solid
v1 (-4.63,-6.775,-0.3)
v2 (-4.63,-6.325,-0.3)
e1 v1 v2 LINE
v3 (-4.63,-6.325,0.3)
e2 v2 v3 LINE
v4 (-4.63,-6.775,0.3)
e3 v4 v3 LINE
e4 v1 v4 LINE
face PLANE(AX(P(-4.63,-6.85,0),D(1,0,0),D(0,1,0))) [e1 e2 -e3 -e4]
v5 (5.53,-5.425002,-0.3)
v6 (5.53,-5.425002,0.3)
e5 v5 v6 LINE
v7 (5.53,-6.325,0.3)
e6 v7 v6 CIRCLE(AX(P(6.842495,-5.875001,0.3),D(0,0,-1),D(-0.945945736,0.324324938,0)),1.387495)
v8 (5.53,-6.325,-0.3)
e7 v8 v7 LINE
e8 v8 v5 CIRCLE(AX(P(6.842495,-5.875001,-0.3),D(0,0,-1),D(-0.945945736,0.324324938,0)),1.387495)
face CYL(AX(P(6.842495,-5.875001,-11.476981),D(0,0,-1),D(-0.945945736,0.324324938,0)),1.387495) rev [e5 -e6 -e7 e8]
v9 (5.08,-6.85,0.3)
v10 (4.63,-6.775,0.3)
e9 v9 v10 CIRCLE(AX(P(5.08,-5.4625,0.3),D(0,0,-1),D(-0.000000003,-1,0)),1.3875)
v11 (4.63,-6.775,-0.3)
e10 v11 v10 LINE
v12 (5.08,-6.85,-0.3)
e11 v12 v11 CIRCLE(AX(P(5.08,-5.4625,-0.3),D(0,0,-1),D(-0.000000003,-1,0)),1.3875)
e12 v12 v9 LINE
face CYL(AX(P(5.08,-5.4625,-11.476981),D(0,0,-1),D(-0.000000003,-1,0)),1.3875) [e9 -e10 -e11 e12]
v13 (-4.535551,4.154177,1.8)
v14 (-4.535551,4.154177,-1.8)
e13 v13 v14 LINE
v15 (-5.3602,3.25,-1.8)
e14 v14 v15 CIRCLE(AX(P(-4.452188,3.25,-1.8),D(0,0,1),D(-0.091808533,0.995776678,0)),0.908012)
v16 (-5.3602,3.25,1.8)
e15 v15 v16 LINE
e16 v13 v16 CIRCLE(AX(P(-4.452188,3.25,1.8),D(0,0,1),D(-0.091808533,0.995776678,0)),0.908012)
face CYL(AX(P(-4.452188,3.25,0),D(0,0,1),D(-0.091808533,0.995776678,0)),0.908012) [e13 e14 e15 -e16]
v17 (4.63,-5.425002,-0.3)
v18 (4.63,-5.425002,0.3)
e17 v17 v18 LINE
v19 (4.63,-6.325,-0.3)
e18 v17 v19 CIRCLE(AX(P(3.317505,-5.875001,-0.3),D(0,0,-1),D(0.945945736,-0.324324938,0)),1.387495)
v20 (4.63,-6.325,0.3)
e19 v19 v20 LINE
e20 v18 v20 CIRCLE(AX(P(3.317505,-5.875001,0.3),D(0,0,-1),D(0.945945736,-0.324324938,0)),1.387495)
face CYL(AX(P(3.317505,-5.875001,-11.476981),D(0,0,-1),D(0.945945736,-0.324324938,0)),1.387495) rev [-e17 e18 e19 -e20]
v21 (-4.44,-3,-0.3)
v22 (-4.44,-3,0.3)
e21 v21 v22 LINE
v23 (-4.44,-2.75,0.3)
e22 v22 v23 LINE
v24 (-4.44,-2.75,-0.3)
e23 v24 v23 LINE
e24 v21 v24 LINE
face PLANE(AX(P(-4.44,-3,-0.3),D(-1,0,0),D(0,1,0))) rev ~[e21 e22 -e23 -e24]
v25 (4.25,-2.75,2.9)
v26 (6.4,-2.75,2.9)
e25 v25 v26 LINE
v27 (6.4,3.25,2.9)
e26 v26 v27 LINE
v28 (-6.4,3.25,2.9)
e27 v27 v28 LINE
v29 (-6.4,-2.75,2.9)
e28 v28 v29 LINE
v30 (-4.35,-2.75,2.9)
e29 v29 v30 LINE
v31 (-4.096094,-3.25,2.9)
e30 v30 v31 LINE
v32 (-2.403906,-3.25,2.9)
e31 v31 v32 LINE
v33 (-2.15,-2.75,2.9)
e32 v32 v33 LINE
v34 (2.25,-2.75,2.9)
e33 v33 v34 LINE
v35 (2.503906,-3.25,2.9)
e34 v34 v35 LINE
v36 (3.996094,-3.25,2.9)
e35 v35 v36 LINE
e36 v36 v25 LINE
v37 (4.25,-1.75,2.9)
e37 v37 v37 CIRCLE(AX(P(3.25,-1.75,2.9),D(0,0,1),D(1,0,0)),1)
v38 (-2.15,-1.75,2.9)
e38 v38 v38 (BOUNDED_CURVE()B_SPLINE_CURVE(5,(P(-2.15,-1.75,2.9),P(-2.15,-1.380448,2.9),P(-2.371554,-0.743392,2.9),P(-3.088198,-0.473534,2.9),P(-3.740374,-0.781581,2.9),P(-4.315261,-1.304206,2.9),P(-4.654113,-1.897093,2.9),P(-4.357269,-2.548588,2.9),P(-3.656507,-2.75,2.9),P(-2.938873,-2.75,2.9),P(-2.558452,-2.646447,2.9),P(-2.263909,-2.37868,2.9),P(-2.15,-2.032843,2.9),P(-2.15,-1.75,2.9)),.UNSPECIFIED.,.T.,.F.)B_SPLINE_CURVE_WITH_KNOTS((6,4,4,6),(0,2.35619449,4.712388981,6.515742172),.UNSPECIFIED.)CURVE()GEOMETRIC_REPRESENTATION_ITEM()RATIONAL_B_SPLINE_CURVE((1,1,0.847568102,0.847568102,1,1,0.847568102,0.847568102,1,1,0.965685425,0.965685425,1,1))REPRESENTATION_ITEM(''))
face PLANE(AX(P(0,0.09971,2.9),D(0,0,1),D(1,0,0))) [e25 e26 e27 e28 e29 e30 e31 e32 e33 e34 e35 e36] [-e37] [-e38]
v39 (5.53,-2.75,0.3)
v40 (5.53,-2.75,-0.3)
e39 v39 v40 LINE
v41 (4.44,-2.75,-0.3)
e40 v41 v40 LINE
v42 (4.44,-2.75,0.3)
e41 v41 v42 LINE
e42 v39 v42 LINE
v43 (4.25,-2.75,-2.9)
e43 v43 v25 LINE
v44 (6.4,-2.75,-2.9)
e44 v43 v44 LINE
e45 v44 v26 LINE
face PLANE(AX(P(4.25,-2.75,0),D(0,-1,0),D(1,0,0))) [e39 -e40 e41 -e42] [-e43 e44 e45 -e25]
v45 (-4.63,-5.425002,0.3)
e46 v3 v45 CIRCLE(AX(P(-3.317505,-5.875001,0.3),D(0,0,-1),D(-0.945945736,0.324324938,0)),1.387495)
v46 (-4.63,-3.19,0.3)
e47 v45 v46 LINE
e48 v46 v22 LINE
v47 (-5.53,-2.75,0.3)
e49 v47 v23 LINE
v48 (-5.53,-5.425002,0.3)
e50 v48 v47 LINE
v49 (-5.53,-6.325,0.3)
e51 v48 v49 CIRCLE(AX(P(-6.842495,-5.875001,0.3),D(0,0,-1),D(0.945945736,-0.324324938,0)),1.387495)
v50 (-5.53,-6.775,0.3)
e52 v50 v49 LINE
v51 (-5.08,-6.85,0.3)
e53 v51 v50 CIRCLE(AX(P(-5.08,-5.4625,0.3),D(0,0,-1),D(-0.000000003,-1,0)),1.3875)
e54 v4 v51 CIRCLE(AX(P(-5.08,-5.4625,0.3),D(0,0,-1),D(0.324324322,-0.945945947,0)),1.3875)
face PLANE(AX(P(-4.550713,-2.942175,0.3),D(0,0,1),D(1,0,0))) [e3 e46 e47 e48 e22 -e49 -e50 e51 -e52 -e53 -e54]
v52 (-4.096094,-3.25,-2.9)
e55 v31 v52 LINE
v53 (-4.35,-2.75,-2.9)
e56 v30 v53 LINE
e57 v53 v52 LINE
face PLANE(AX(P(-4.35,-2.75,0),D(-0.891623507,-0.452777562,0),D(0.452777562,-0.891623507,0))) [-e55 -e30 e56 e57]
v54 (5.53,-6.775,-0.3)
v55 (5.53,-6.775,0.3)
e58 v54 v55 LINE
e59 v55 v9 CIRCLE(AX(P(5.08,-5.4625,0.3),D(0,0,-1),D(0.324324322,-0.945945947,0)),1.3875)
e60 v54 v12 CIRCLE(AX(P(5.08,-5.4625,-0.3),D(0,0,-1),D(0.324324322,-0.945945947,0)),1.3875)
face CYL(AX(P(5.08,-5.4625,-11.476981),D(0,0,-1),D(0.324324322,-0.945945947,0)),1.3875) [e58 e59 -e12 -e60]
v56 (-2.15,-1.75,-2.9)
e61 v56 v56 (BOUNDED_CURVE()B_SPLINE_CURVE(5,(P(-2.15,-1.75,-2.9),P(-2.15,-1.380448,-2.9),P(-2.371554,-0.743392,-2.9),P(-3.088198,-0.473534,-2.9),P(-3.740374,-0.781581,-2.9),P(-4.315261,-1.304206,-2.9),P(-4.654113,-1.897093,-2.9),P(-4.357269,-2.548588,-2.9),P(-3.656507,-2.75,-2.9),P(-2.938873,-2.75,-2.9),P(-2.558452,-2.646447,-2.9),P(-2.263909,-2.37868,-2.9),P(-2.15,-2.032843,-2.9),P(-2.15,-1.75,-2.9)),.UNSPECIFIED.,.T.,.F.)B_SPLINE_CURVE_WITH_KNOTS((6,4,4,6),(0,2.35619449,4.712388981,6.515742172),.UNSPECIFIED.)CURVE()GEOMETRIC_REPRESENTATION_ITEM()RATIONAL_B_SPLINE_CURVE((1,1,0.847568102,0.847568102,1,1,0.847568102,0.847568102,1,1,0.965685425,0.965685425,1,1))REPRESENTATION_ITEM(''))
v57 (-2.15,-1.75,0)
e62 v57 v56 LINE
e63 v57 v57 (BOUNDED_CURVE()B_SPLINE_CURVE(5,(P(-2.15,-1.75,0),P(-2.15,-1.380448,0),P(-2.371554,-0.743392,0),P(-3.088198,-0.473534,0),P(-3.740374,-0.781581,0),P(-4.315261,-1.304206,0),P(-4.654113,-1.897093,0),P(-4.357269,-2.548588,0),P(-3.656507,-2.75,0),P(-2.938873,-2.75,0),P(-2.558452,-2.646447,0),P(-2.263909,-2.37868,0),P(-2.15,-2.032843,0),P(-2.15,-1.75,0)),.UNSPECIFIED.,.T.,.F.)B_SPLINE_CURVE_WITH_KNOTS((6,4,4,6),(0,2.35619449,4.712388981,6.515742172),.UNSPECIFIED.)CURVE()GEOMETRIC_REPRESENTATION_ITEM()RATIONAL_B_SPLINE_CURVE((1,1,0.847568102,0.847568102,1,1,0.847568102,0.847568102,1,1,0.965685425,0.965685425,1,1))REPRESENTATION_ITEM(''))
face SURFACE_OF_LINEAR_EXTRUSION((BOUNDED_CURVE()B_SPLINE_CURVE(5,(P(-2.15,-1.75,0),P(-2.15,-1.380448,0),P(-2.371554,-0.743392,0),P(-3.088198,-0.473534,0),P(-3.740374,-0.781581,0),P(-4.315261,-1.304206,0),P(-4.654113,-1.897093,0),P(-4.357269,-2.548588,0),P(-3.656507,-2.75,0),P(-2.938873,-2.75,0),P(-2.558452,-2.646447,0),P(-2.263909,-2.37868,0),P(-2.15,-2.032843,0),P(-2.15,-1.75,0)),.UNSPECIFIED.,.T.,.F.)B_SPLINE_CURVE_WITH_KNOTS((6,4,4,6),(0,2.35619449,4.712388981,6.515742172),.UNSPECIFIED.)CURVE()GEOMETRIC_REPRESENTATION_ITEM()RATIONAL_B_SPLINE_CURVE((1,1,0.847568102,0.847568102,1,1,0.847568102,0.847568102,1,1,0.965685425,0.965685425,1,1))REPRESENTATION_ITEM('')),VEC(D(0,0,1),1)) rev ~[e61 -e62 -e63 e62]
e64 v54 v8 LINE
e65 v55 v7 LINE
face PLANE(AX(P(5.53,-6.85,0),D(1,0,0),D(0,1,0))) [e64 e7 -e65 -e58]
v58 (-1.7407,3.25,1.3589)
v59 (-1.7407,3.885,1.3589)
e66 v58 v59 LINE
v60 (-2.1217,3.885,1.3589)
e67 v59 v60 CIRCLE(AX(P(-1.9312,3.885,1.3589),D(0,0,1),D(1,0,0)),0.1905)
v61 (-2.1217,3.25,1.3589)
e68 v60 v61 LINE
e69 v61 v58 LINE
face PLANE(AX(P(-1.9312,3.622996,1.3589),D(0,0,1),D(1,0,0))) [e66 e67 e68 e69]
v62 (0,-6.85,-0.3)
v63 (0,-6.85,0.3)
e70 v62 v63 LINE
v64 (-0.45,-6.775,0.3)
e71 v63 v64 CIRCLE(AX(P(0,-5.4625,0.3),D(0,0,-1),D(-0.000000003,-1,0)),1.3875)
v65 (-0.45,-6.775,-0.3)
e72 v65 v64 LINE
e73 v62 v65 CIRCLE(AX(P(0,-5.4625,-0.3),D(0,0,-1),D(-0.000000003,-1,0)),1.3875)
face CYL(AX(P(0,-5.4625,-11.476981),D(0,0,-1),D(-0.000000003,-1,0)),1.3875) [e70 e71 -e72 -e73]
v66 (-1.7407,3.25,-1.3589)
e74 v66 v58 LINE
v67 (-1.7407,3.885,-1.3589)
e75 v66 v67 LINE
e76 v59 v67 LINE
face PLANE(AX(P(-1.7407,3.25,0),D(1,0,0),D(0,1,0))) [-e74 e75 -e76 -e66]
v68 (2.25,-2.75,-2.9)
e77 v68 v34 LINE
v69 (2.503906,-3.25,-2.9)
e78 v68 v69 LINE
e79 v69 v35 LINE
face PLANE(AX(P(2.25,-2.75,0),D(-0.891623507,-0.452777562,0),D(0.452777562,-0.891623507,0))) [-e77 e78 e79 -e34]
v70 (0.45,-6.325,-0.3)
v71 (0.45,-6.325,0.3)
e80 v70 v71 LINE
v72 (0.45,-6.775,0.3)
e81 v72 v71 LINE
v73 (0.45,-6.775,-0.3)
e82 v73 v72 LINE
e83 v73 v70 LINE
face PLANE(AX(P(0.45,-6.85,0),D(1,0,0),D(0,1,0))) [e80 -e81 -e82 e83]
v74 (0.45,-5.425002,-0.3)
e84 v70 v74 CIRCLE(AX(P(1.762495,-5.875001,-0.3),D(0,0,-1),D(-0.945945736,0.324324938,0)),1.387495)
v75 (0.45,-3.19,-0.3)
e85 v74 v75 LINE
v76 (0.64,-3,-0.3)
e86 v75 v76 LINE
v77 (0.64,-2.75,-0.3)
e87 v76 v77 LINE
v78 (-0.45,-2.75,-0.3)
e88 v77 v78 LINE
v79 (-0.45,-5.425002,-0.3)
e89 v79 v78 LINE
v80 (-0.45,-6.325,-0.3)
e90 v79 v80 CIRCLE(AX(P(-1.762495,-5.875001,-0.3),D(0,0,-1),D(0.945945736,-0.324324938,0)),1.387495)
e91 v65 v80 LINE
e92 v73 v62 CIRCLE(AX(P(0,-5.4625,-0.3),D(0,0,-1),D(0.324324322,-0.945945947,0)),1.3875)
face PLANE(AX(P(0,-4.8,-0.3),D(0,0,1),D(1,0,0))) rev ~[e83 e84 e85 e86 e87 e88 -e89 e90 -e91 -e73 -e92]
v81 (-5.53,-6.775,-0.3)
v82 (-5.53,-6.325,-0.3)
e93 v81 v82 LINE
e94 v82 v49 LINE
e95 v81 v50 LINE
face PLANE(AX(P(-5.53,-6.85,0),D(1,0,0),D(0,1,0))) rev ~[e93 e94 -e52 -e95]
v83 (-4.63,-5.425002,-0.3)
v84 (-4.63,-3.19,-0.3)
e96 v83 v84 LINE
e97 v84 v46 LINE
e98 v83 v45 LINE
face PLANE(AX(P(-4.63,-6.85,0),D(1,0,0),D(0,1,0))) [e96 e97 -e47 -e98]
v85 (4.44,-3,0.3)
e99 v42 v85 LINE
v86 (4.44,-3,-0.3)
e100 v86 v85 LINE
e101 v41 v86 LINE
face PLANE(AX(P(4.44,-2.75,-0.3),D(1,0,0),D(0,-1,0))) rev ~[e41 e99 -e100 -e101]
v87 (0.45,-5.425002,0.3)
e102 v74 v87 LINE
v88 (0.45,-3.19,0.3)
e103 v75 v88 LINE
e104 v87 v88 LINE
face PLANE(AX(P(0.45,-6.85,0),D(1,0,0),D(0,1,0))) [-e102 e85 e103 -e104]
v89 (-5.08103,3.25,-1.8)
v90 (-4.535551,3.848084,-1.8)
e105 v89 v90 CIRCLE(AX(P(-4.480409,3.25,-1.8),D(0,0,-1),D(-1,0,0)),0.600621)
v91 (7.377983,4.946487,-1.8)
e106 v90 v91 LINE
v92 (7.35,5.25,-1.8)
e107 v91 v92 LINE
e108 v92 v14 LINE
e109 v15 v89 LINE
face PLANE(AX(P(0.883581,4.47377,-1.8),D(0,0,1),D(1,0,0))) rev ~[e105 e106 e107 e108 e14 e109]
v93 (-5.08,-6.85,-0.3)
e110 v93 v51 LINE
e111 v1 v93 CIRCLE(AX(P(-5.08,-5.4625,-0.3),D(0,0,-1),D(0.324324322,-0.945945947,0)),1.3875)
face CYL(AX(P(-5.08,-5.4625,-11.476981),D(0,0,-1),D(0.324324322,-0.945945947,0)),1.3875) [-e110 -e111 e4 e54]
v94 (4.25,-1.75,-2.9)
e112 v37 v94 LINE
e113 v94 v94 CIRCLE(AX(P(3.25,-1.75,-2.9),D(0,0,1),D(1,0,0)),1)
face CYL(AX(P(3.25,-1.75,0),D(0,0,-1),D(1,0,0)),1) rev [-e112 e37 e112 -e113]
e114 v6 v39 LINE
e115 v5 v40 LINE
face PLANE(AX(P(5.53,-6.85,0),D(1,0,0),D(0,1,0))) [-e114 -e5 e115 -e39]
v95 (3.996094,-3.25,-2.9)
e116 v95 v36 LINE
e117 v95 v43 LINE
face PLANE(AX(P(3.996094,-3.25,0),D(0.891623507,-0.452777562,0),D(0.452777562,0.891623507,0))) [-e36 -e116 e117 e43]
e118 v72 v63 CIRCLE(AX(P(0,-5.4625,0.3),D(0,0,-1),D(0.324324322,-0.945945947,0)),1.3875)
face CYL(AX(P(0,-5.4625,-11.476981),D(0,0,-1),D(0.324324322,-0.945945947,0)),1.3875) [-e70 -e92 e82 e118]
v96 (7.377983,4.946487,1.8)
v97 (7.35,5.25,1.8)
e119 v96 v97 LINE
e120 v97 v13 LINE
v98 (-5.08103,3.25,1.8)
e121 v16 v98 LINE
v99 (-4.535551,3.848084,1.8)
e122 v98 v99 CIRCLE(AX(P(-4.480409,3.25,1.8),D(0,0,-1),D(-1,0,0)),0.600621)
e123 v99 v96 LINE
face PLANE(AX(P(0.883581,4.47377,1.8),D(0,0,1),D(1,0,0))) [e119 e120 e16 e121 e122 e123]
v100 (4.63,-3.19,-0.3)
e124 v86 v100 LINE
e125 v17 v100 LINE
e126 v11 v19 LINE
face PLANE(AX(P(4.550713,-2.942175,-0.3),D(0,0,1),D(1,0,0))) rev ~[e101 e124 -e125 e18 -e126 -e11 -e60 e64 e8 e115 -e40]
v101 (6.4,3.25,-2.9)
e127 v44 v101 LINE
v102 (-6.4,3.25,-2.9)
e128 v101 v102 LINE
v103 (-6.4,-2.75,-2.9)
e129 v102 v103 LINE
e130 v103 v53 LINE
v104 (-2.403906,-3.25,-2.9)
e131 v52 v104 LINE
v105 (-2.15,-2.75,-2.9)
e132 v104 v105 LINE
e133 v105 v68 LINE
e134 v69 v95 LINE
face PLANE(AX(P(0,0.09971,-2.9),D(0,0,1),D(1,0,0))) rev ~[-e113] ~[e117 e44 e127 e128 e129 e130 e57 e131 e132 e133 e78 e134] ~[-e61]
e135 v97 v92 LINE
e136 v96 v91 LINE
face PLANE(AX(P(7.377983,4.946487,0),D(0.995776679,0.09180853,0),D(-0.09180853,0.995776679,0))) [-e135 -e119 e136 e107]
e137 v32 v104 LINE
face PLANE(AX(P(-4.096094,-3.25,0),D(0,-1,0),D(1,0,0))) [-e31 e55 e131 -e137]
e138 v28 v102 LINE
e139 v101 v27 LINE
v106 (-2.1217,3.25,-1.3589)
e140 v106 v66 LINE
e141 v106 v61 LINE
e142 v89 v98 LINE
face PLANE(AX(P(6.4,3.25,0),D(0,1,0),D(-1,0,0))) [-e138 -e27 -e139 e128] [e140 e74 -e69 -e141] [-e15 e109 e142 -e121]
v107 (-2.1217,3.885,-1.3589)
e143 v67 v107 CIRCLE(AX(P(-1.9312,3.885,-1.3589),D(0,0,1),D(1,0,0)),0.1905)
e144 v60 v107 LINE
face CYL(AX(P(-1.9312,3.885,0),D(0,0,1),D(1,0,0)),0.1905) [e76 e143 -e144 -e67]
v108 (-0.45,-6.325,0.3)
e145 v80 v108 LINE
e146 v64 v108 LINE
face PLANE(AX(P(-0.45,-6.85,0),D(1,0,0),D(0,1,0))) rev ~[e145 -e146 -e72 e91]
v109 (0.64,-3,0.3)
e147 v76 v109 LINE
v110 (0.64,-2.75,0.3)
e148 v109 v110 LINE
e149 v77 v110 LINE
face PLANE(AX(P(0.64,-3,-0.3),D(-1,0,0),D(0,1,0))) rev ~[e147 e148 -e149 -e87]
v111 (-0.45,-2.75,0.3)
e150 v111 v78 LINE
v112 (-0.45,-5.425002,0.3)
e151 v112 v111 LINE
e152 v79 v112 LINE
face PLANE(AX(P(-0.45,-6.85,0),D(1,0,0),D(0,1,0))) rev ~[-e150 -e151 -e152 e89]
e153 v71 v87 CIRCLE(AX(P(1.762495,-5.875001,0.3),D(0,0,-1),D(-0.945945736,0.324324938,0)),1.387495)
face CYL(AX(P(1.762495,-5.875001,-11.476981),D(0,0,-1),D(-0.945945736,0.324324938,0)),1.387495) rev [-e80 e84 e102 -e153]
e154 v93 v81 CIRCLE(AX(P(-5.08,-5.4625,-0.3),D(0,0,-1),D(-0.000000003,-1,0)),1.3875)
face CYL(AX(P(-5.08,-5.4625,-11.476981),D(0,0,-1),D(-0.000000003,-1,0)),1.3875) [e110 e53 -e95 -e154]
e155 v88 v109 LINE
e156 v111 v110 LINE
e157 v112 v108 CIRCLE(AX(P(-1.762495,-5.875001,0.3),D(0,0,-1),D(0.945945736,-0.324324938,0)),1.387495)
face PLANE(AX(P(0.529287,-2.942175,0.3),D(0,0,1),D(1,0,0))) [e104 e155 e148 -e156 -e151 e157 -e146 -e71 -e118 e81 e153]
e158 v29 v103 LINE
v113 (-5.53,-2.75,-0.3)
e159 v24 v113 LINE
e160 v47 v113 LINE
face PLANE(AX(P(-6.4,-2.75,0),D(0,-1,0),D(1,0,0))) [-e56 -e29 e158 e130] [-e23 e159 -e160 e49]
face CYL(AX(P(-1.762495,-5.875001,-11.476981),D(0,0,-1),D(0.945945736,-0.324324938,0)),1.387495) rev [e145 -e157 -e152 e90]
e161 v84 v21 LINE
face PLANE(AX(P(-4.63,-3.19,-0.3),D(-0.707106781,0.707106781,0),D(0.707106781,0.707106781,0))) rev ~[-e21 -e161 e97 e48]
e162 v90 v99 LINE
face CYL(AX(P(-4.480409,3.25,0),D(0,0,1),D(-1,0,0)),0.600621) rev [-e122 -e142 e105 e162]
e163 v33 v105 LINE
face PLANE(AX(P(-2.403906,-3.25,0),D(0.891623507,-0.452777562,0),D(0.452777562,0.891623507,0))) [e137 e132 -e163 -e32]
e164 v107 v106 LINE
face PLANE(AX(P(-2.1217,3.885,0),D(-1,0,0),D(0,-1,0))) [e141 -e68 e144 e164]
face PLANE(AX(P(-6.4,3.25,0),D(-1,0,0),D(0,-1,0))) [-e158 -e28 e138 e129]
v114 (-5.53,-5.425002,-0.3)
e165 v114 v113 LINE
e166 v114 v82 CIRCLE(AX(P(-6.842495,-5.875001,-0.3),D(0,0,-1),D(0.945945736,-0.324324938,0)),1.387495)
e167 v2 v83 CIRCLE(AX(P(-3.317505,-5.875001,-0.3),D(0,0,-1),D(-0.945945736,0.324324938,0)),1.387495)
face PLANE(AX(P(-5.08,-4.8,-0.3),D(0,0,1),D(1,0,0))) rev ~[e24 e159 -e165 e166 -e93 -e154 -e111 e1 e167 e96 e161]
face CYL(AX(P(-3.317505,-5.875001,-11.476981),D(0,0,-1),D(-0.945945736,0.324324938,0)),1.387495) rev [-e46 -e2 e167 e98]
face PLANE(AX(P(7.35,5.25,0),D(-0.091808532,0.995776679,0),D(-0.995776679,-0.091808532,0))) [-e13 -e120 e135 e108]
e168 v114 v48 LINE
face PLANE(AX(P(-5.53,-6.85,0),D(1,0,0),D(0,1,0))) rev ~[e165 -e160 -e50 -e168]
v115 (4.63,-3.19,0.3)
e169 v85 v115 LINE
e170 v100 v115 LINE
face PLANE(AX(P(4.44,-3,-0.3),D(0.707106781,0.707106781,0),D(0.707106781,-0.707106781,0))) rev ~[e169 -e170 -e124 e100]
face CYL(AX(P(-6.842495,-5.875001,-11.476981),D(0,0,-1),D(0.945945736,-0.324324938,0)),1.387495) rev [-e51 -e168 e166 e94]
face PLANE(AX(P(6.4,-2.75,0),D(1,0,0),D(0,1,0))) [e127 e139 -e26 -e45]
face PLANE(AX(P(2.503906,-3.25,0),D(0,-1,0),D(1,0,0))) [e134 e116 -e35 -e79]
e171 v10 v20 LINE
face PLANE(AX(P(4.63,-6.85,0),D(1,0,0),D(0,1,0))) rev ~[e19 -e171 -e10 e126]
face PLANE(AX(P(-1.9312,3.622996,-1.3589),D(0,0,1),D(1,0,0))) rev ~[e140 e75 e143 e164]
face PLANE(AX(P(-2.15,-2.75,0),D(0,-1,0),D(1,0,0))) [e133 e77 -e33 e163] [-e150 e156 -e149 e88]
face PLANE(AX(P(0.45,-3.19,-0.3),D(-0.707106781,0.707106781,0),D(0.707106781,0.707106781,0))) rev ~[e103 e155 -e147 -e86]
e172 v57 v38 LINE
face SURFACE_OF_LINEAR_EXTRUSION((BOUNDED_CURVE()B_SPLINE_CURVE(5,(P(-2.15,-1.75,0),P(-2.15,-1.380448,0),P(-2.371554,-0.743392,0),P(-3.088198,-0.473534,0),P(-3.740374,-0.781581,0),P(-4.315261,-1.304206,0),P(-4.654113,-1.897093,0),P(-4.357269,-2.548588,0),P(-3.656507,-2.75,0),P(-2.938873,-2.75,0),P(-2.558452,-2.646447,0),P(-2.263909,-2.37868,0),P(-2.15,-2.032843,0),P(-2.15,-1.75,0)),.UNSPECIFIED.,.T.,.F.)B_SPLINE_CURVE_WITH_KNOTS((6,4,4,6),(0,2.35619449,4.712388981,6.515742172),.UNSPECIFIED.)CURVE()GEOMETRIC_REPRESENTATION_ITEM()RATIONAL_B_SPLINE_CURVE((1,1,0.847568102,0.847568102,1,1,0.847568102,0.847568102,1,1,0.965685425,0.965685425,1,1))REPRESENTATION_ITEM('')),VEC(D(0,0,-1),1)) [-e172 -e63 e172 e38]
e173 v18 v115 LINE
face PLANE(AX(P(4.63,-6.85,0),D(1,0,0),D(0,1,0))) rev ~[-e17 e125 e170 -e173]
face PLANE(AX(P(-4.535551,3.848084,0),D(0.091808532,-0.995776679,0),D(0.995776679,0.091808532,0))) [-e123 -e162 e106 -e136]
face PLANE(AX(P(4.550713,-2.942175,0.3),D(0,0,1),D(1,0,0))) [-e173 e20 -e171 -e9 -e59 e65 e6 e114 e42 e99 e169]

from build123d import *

# Parameters (mm, degrees)
SKETCH1_R               = 1
BOSS_EXTRUDE1_DEPTH     = 2.9
BOSS_EXTRUDE2_DEPTH     = 1.8
BOSS_EXTRUDE3_DEPTH     = 1.3589
SKETCH1_5_W             = 0.9
SKETCH1_5_H             = 4.1
BOSS_EXTRUDE4_DEPTH     = 0.3
BOSS_EXTRUDE4_2_DEPTH   = 0.3
BOSS_EXTRUDE4_3_DEPTH   = 0.3
CUT_EXTRUDE4_DEPTH      = 11.476981306
CUT_EXTRUDE4_DEPTH_BACK = 11.476981306
CUT_EXTRUDE5_DEPTH      = 11.476981306
CUT_EXTRUDE5_DEPTH_BACK = 11.476981306
CUT_EXTRUDE6_DEPTH      = 11.476981306
CUT_EXTRUDE6_DEPTH_BACK = 11.476981306
BOSS_EXTRUDE5_START     = -0.3
BOSS_EXTRUDE5_DEPTH     = 0.6


with BuildPart() as part:
    # Sketch1 → Boss-Extrude1 (new, symmetric)
    with BuildSketch(Plane.XY):
        Polygon((-2.15, -2.75), (2.25, -2.75), (2.50390625, -3.25), (3.99609375, -3.25), (4.25, -2.75), (6.4, -2.75), (6.4, 3.25), (-6.4, 3.25), (-6.4, -2.75), (-4.35, -2.75), (-4.09609375, -3.25), (-2.40390625, -3.25), align=None)
        with BuildLine():
            add(Edge.make_bspline(
                [(-3.25, -2.75), (-2.15, -2.75), (-2.15, -1.75)],
                knots=[4.71238898, 4.71238898, 4.71238898, 6.283185307, 6.283185307, 6.283185307], degree=2, weights=[1, 0.707106781, 1]))
            add(Edge.make_bspline(
                [(-2.15, -1.75), (-2.15, 0.664213562), (-4.027817459, -1.042893219), (-5.905634919, -2.75), (-3.25, -2.75)],
                knots=[0, 0, 0, 2.35619449, 2.35619449, 4.71238898, 4.71238898, 4.71238898], degree=2, weights=[1, 0.382683432, 1, 0.382683432, 1]))
        make_face(mode=Mode.SUBTRACT)
        with Locations((3.25, -1.75)):
            Circle(SKETCH1_R, mode=Mode.SUBTRACT)
    extrude(amount=BOSS_EXTRUDE1_DEPTH, both=True)

    # Sketch1<3> → Boss-Extrude2 (add, symmetric)
    with BuildSketch(Plane.XY):
        with BuildLine():
            ThreePointArc((-4.535551444, 4.15417696), (-5.12307576, 3.861878504), (-5.3602, 3.25))
            Line((-5.3602, 3.25), (-5.081030172, 3.25))
            ThreePointArc((-5.081030172, 3.25), (-4.924180047, 3.654738123), (-4.535551444, 3.848084232))
            Line((-4.535551444, 3.848084232), (7.37798324, 4.946487268))
            Line((7.37798324, 4.946487268), (7.35, 5.25))
            Line((7.35, 5.25), (-4.535551444, 4.15417696))
        make_face()
    extrude(amount=BOSS_EXTRUDE2_DEPTH, both=True)

    # Sketch1<4> → Boss-Extrude3 (add, symmetric)
    with BuildSketch(Plane.XY):
        with BuildLine():
            Line((-2.1217, 3.885), (-2.1217, 3.25))
            Line((-2.1217, 3.25), (-1.7407, 3.25))
            Line((-1.7407, 3.25), (-1.7407, 3.885))
            ThreePointArc((-1.7407, 3.885), (-1.9312, 4.0755), (-2.1217, 3.885))
        make_face()
    extrude(amount=BOSS_EXTRUDE3_DEPTH, both=True)



with BuildPart() as body_2:
    # Sketch1<5> → Boss-Extrude4 (new, symmetric)
    with BuildSketch(Plane.XY):
        with Locations((-5.08, -4.8)):
            Rectangle(SKETCH1_5_W, SKETCH1_5_H)
    extrude(amount=BOSS_EXTRUDE4_DEPTH, both=True)

    # Sketch2<4> → Cut-Extrude5 (cut, two sides: drawn at the far end of the back side and taken through both)
    with BuildSketch(Plane.XY.offset(-CUT_EXTRUDE5_DEPTH_BACK)):
        with BuildLine():
            ThreePointArc((-4.63, -5.4250018), (-4.705, -5.8750009), (-4.63, -6.325))
            Line((-4.63, -6.325), (-4.63, -5.4250018))
        make_face()
        with BuildLine():
            Line((-5.08, -6.85), (-4.63, -6.85))
            Line((-4.63, -6.85), (-4.63, -6.775))
            ThreePointArc((-4.63, -6.775), (-4.851896405, -6.831121569), (-5.08, -6.85))
        make_face()
        with BuildLine():
            Line((-5.53, -6.85), (-5.08, -6.85))
            ThreePointArc((-5.08, -6.85), (-5.308103595, -6.831121569), (-5.53, -6.775))
            Line((-5.53, -6.775), (-5.53, -6.85))
        make_face()
        with BuildLine():
            Line((-5.53, -5.4250018), (-5.53, -6.325))
            ThreePointArc((-5.53, -6.325), (-5.455, -5.8750009), (-5.53, -5.4250018))
        make_face()
    extrude(amount=CUT_EXTRUDE5_DEPTH + CUT_EXTRUDE5_DEPTH_BACK, mode=Mode.SUBTRACT)


with BuildPart() as body_3:
    # Sketch1<5> → Boss-Extrude4 2 (new, symmetric)
    with BuildSketch(Plane.XY):
        with Locations((0, -4.8)):
            Rectangle(SKETCH1_5_W, SKETCH1_5_H)
    extrude(amount=BOSS_EXTRUDE4_2_DEPTH, both=True)

    # Sketch2 → Cut-Extrude4 (cut, two sides: drawn at the far end of the back side and taken through both)
    with BuildSketch(Plane.XY.offset(-CUT_EXTRUDE4_DEPTH_BACK)):
        with BuildLine():
            ThreePointArc((5.53, -5.4250018), (5.455, -5.8750009), (5.53, -6.325))
            Line((5.53, -6.325), (5.53, -5.4250018))
        make_face()
        with BuildLine():
            Line((4.63, -5.4250018), (4.63, -6.325))
            ThreePointArc((4.63, -6.325), (4.705, -5.8750009), (4.63, -5.4250018))
        make_face()
        with BuildLine():
            ThreePointArc((5.53, -6.775), (5.308103595, -6.831121569), (5.08, -6.85))
            Line((5.08, -6.85), (5.53, -6.85))
            Line((5.53, -6.85), (5.53, -6.775))
        make_face()
        with BuildLine():
            Line((4.63, -6.775), (4.63, -6.85))
            Line((4.63, -6.85), (5.08, -6.85))
            ThreePointArc((5.08, -6.85), (4.851896405, -6.831121569), (4.63, -6.775))
        make_face()
        with BuildLine():
            ThreePointArc((0.45, -5.4250018), (0.375, -5.8750009), (0.45, -6.325))
            Line((0.45, -6.325), (0.45, -5.4250018))
        make_face()
        with BuildLine():
            Line((-0.45, -5.4250018), (-0.45, -6.325))
            ThreePointArc((-0.45, -6.325), (-0.375, -5.8750009), (-0.45, -5.4250018))
        make_face()
        with BuildLine():
            Line((-0.45, -6.85), (0, -6.85))
            ThreePointArc((0, -6.85), (-0.228103595, -6.831121569), (-0.45, -6.775))
            Line((-0.45, -6.775), (-0.45, -6.85))
        make_face()
        with BuildLine():
            Line((0, -6.85), (0.45, -6.85))
            Line((0.45, -6.85), (0.45, -6.775))
            ThreePointArc((0.45, -6.775), (0.228103595, -6.831121569), (0, -6.85))
        make_face()
        with BuildLine():
            ThreePointArc((-4.63, -5.4250018), (-4.705, -5.8750009), (-4.63, -6.325))
            Line((-4.63, -6.325), (-4.63, -5.4250018))
        make_face()
        with BuildLine():
            Line((-5.08, -6.85), (-4.63, -6.85))
            Line((-4.63, -6.85), (-4.63, -6.775))
            ThreePointArc((-4.63, -6.775), (-4.851896405, -6.831121569), (-5.08, -6.85))
        make_face()
        with BuildLine():
            Line((-5.53, -6.85), (-5.08, -6.85))
            ThreePointArc((-5.08, -6.85), (-5.308103595, -6.831121569), (-5.53, -6.775))
            Line((-5.53, -6.775), (-5.53, -6.85))
        make_face()
        with BuildLine():
            Line((-5.53, -5.4250018), (-5.53, -6.325))
            ThreePointArc((-5.53, -6.325), (-5.455, -5.8750009), (-5.53, -5.4250018))
        make_face()
    extrude(amount=CUT_EXTRUDE4_DEPTH + CUT_EXTRUDE4_DEPTH_BACK, mode=Mode.SUBTRACT)


with BuildPart() as body_4:
    # Sketch1<5> → Boss-Extrude4 3 (new, symmetric)
    with BuildSketch(Plane.XY):
        with Locations((5.08, -4.8)):
            Rectangle(SKETCH1_5_W, SKETCH1_5_H)
    extrude(amount=BOSS_EXTRUDE4_3_DEPTH, both=True)

    # Sketch2<5> → Cut-Extrude6 (cut, two sides: drawn at the far end of the back side and taken through both)
    with BuildSketch(Plane.XY.offset(-CUT_EXTRUDE6_DEPTH_BACK)):
        with BuildLine():
            Line((4.63, -5.4250018), (4.63, -6.325))
            ThreePointArc((4.63, -6.325), (4.705, -5.8750009), (4.63, -5.4250018))
        make_face()
        with BuildLine():
            ThreePointArc((5.53, -5.4250018), (5.455, -5.8750009), (5.53, -6.325))
            Line((5.53, -6.325), (5.53, -5.4250018))
        make_face()
        with BuildLine():
            ThreePointArc((5.53, -6.775), (5.308103595, -6.831121569), (5.08, -6.85))
            Line((5.08, -6.85), (5.53, -6.85))
            Line((5.53, -6.85), (5.53, -6.775))
        make_face()
        with BuildLine():
            Line((4.63, -6.775), (4.63, -6.85))
            Line((4.63, -6.85), (5.08, -6.85))
            ThreePointArc((5.08, -6.85), (4.851896405, -6.831121569), (4.63, -6.775))
        make_face()
    extrude(amount=CUT_EXTRUDE6_DEPTH + CUT_EXTRUDE6_DEPTH_BACK, mode=Mode.SUBTRACT)


with BuildPart() as part_1:
    add(part.part)

    add(body_2.part)  # Boss-Extrude5 merges body 2

    add(body_3.part)  # Boss-Extrude5 merges body 3

    add(body_4.part)  # Boss-Extrude5 merges body 4
    # Sketch2<7> → Boss-Extrude5 (add)
    with BuildSketch(Plane.XY.offset(BOSS_EXTRUDE5_START)):
        Polygon((4.44, -3), (4.63, -3.19), (4.63, -2.75), (4.44, -2.75), align=None)
        Polygon((0.45, -2.75), (0.45, -3.19), (0.64, -3), (0.64, -2.75), align=None)
        Polygon((-4.63, -2.75), (-4.63, -3.19), (-4.44, -3), (-4.44, -2.75), align=None)
    extrude(amount=BOSS_EXTRUDE5_DEPTH)


solid = part_1.part
